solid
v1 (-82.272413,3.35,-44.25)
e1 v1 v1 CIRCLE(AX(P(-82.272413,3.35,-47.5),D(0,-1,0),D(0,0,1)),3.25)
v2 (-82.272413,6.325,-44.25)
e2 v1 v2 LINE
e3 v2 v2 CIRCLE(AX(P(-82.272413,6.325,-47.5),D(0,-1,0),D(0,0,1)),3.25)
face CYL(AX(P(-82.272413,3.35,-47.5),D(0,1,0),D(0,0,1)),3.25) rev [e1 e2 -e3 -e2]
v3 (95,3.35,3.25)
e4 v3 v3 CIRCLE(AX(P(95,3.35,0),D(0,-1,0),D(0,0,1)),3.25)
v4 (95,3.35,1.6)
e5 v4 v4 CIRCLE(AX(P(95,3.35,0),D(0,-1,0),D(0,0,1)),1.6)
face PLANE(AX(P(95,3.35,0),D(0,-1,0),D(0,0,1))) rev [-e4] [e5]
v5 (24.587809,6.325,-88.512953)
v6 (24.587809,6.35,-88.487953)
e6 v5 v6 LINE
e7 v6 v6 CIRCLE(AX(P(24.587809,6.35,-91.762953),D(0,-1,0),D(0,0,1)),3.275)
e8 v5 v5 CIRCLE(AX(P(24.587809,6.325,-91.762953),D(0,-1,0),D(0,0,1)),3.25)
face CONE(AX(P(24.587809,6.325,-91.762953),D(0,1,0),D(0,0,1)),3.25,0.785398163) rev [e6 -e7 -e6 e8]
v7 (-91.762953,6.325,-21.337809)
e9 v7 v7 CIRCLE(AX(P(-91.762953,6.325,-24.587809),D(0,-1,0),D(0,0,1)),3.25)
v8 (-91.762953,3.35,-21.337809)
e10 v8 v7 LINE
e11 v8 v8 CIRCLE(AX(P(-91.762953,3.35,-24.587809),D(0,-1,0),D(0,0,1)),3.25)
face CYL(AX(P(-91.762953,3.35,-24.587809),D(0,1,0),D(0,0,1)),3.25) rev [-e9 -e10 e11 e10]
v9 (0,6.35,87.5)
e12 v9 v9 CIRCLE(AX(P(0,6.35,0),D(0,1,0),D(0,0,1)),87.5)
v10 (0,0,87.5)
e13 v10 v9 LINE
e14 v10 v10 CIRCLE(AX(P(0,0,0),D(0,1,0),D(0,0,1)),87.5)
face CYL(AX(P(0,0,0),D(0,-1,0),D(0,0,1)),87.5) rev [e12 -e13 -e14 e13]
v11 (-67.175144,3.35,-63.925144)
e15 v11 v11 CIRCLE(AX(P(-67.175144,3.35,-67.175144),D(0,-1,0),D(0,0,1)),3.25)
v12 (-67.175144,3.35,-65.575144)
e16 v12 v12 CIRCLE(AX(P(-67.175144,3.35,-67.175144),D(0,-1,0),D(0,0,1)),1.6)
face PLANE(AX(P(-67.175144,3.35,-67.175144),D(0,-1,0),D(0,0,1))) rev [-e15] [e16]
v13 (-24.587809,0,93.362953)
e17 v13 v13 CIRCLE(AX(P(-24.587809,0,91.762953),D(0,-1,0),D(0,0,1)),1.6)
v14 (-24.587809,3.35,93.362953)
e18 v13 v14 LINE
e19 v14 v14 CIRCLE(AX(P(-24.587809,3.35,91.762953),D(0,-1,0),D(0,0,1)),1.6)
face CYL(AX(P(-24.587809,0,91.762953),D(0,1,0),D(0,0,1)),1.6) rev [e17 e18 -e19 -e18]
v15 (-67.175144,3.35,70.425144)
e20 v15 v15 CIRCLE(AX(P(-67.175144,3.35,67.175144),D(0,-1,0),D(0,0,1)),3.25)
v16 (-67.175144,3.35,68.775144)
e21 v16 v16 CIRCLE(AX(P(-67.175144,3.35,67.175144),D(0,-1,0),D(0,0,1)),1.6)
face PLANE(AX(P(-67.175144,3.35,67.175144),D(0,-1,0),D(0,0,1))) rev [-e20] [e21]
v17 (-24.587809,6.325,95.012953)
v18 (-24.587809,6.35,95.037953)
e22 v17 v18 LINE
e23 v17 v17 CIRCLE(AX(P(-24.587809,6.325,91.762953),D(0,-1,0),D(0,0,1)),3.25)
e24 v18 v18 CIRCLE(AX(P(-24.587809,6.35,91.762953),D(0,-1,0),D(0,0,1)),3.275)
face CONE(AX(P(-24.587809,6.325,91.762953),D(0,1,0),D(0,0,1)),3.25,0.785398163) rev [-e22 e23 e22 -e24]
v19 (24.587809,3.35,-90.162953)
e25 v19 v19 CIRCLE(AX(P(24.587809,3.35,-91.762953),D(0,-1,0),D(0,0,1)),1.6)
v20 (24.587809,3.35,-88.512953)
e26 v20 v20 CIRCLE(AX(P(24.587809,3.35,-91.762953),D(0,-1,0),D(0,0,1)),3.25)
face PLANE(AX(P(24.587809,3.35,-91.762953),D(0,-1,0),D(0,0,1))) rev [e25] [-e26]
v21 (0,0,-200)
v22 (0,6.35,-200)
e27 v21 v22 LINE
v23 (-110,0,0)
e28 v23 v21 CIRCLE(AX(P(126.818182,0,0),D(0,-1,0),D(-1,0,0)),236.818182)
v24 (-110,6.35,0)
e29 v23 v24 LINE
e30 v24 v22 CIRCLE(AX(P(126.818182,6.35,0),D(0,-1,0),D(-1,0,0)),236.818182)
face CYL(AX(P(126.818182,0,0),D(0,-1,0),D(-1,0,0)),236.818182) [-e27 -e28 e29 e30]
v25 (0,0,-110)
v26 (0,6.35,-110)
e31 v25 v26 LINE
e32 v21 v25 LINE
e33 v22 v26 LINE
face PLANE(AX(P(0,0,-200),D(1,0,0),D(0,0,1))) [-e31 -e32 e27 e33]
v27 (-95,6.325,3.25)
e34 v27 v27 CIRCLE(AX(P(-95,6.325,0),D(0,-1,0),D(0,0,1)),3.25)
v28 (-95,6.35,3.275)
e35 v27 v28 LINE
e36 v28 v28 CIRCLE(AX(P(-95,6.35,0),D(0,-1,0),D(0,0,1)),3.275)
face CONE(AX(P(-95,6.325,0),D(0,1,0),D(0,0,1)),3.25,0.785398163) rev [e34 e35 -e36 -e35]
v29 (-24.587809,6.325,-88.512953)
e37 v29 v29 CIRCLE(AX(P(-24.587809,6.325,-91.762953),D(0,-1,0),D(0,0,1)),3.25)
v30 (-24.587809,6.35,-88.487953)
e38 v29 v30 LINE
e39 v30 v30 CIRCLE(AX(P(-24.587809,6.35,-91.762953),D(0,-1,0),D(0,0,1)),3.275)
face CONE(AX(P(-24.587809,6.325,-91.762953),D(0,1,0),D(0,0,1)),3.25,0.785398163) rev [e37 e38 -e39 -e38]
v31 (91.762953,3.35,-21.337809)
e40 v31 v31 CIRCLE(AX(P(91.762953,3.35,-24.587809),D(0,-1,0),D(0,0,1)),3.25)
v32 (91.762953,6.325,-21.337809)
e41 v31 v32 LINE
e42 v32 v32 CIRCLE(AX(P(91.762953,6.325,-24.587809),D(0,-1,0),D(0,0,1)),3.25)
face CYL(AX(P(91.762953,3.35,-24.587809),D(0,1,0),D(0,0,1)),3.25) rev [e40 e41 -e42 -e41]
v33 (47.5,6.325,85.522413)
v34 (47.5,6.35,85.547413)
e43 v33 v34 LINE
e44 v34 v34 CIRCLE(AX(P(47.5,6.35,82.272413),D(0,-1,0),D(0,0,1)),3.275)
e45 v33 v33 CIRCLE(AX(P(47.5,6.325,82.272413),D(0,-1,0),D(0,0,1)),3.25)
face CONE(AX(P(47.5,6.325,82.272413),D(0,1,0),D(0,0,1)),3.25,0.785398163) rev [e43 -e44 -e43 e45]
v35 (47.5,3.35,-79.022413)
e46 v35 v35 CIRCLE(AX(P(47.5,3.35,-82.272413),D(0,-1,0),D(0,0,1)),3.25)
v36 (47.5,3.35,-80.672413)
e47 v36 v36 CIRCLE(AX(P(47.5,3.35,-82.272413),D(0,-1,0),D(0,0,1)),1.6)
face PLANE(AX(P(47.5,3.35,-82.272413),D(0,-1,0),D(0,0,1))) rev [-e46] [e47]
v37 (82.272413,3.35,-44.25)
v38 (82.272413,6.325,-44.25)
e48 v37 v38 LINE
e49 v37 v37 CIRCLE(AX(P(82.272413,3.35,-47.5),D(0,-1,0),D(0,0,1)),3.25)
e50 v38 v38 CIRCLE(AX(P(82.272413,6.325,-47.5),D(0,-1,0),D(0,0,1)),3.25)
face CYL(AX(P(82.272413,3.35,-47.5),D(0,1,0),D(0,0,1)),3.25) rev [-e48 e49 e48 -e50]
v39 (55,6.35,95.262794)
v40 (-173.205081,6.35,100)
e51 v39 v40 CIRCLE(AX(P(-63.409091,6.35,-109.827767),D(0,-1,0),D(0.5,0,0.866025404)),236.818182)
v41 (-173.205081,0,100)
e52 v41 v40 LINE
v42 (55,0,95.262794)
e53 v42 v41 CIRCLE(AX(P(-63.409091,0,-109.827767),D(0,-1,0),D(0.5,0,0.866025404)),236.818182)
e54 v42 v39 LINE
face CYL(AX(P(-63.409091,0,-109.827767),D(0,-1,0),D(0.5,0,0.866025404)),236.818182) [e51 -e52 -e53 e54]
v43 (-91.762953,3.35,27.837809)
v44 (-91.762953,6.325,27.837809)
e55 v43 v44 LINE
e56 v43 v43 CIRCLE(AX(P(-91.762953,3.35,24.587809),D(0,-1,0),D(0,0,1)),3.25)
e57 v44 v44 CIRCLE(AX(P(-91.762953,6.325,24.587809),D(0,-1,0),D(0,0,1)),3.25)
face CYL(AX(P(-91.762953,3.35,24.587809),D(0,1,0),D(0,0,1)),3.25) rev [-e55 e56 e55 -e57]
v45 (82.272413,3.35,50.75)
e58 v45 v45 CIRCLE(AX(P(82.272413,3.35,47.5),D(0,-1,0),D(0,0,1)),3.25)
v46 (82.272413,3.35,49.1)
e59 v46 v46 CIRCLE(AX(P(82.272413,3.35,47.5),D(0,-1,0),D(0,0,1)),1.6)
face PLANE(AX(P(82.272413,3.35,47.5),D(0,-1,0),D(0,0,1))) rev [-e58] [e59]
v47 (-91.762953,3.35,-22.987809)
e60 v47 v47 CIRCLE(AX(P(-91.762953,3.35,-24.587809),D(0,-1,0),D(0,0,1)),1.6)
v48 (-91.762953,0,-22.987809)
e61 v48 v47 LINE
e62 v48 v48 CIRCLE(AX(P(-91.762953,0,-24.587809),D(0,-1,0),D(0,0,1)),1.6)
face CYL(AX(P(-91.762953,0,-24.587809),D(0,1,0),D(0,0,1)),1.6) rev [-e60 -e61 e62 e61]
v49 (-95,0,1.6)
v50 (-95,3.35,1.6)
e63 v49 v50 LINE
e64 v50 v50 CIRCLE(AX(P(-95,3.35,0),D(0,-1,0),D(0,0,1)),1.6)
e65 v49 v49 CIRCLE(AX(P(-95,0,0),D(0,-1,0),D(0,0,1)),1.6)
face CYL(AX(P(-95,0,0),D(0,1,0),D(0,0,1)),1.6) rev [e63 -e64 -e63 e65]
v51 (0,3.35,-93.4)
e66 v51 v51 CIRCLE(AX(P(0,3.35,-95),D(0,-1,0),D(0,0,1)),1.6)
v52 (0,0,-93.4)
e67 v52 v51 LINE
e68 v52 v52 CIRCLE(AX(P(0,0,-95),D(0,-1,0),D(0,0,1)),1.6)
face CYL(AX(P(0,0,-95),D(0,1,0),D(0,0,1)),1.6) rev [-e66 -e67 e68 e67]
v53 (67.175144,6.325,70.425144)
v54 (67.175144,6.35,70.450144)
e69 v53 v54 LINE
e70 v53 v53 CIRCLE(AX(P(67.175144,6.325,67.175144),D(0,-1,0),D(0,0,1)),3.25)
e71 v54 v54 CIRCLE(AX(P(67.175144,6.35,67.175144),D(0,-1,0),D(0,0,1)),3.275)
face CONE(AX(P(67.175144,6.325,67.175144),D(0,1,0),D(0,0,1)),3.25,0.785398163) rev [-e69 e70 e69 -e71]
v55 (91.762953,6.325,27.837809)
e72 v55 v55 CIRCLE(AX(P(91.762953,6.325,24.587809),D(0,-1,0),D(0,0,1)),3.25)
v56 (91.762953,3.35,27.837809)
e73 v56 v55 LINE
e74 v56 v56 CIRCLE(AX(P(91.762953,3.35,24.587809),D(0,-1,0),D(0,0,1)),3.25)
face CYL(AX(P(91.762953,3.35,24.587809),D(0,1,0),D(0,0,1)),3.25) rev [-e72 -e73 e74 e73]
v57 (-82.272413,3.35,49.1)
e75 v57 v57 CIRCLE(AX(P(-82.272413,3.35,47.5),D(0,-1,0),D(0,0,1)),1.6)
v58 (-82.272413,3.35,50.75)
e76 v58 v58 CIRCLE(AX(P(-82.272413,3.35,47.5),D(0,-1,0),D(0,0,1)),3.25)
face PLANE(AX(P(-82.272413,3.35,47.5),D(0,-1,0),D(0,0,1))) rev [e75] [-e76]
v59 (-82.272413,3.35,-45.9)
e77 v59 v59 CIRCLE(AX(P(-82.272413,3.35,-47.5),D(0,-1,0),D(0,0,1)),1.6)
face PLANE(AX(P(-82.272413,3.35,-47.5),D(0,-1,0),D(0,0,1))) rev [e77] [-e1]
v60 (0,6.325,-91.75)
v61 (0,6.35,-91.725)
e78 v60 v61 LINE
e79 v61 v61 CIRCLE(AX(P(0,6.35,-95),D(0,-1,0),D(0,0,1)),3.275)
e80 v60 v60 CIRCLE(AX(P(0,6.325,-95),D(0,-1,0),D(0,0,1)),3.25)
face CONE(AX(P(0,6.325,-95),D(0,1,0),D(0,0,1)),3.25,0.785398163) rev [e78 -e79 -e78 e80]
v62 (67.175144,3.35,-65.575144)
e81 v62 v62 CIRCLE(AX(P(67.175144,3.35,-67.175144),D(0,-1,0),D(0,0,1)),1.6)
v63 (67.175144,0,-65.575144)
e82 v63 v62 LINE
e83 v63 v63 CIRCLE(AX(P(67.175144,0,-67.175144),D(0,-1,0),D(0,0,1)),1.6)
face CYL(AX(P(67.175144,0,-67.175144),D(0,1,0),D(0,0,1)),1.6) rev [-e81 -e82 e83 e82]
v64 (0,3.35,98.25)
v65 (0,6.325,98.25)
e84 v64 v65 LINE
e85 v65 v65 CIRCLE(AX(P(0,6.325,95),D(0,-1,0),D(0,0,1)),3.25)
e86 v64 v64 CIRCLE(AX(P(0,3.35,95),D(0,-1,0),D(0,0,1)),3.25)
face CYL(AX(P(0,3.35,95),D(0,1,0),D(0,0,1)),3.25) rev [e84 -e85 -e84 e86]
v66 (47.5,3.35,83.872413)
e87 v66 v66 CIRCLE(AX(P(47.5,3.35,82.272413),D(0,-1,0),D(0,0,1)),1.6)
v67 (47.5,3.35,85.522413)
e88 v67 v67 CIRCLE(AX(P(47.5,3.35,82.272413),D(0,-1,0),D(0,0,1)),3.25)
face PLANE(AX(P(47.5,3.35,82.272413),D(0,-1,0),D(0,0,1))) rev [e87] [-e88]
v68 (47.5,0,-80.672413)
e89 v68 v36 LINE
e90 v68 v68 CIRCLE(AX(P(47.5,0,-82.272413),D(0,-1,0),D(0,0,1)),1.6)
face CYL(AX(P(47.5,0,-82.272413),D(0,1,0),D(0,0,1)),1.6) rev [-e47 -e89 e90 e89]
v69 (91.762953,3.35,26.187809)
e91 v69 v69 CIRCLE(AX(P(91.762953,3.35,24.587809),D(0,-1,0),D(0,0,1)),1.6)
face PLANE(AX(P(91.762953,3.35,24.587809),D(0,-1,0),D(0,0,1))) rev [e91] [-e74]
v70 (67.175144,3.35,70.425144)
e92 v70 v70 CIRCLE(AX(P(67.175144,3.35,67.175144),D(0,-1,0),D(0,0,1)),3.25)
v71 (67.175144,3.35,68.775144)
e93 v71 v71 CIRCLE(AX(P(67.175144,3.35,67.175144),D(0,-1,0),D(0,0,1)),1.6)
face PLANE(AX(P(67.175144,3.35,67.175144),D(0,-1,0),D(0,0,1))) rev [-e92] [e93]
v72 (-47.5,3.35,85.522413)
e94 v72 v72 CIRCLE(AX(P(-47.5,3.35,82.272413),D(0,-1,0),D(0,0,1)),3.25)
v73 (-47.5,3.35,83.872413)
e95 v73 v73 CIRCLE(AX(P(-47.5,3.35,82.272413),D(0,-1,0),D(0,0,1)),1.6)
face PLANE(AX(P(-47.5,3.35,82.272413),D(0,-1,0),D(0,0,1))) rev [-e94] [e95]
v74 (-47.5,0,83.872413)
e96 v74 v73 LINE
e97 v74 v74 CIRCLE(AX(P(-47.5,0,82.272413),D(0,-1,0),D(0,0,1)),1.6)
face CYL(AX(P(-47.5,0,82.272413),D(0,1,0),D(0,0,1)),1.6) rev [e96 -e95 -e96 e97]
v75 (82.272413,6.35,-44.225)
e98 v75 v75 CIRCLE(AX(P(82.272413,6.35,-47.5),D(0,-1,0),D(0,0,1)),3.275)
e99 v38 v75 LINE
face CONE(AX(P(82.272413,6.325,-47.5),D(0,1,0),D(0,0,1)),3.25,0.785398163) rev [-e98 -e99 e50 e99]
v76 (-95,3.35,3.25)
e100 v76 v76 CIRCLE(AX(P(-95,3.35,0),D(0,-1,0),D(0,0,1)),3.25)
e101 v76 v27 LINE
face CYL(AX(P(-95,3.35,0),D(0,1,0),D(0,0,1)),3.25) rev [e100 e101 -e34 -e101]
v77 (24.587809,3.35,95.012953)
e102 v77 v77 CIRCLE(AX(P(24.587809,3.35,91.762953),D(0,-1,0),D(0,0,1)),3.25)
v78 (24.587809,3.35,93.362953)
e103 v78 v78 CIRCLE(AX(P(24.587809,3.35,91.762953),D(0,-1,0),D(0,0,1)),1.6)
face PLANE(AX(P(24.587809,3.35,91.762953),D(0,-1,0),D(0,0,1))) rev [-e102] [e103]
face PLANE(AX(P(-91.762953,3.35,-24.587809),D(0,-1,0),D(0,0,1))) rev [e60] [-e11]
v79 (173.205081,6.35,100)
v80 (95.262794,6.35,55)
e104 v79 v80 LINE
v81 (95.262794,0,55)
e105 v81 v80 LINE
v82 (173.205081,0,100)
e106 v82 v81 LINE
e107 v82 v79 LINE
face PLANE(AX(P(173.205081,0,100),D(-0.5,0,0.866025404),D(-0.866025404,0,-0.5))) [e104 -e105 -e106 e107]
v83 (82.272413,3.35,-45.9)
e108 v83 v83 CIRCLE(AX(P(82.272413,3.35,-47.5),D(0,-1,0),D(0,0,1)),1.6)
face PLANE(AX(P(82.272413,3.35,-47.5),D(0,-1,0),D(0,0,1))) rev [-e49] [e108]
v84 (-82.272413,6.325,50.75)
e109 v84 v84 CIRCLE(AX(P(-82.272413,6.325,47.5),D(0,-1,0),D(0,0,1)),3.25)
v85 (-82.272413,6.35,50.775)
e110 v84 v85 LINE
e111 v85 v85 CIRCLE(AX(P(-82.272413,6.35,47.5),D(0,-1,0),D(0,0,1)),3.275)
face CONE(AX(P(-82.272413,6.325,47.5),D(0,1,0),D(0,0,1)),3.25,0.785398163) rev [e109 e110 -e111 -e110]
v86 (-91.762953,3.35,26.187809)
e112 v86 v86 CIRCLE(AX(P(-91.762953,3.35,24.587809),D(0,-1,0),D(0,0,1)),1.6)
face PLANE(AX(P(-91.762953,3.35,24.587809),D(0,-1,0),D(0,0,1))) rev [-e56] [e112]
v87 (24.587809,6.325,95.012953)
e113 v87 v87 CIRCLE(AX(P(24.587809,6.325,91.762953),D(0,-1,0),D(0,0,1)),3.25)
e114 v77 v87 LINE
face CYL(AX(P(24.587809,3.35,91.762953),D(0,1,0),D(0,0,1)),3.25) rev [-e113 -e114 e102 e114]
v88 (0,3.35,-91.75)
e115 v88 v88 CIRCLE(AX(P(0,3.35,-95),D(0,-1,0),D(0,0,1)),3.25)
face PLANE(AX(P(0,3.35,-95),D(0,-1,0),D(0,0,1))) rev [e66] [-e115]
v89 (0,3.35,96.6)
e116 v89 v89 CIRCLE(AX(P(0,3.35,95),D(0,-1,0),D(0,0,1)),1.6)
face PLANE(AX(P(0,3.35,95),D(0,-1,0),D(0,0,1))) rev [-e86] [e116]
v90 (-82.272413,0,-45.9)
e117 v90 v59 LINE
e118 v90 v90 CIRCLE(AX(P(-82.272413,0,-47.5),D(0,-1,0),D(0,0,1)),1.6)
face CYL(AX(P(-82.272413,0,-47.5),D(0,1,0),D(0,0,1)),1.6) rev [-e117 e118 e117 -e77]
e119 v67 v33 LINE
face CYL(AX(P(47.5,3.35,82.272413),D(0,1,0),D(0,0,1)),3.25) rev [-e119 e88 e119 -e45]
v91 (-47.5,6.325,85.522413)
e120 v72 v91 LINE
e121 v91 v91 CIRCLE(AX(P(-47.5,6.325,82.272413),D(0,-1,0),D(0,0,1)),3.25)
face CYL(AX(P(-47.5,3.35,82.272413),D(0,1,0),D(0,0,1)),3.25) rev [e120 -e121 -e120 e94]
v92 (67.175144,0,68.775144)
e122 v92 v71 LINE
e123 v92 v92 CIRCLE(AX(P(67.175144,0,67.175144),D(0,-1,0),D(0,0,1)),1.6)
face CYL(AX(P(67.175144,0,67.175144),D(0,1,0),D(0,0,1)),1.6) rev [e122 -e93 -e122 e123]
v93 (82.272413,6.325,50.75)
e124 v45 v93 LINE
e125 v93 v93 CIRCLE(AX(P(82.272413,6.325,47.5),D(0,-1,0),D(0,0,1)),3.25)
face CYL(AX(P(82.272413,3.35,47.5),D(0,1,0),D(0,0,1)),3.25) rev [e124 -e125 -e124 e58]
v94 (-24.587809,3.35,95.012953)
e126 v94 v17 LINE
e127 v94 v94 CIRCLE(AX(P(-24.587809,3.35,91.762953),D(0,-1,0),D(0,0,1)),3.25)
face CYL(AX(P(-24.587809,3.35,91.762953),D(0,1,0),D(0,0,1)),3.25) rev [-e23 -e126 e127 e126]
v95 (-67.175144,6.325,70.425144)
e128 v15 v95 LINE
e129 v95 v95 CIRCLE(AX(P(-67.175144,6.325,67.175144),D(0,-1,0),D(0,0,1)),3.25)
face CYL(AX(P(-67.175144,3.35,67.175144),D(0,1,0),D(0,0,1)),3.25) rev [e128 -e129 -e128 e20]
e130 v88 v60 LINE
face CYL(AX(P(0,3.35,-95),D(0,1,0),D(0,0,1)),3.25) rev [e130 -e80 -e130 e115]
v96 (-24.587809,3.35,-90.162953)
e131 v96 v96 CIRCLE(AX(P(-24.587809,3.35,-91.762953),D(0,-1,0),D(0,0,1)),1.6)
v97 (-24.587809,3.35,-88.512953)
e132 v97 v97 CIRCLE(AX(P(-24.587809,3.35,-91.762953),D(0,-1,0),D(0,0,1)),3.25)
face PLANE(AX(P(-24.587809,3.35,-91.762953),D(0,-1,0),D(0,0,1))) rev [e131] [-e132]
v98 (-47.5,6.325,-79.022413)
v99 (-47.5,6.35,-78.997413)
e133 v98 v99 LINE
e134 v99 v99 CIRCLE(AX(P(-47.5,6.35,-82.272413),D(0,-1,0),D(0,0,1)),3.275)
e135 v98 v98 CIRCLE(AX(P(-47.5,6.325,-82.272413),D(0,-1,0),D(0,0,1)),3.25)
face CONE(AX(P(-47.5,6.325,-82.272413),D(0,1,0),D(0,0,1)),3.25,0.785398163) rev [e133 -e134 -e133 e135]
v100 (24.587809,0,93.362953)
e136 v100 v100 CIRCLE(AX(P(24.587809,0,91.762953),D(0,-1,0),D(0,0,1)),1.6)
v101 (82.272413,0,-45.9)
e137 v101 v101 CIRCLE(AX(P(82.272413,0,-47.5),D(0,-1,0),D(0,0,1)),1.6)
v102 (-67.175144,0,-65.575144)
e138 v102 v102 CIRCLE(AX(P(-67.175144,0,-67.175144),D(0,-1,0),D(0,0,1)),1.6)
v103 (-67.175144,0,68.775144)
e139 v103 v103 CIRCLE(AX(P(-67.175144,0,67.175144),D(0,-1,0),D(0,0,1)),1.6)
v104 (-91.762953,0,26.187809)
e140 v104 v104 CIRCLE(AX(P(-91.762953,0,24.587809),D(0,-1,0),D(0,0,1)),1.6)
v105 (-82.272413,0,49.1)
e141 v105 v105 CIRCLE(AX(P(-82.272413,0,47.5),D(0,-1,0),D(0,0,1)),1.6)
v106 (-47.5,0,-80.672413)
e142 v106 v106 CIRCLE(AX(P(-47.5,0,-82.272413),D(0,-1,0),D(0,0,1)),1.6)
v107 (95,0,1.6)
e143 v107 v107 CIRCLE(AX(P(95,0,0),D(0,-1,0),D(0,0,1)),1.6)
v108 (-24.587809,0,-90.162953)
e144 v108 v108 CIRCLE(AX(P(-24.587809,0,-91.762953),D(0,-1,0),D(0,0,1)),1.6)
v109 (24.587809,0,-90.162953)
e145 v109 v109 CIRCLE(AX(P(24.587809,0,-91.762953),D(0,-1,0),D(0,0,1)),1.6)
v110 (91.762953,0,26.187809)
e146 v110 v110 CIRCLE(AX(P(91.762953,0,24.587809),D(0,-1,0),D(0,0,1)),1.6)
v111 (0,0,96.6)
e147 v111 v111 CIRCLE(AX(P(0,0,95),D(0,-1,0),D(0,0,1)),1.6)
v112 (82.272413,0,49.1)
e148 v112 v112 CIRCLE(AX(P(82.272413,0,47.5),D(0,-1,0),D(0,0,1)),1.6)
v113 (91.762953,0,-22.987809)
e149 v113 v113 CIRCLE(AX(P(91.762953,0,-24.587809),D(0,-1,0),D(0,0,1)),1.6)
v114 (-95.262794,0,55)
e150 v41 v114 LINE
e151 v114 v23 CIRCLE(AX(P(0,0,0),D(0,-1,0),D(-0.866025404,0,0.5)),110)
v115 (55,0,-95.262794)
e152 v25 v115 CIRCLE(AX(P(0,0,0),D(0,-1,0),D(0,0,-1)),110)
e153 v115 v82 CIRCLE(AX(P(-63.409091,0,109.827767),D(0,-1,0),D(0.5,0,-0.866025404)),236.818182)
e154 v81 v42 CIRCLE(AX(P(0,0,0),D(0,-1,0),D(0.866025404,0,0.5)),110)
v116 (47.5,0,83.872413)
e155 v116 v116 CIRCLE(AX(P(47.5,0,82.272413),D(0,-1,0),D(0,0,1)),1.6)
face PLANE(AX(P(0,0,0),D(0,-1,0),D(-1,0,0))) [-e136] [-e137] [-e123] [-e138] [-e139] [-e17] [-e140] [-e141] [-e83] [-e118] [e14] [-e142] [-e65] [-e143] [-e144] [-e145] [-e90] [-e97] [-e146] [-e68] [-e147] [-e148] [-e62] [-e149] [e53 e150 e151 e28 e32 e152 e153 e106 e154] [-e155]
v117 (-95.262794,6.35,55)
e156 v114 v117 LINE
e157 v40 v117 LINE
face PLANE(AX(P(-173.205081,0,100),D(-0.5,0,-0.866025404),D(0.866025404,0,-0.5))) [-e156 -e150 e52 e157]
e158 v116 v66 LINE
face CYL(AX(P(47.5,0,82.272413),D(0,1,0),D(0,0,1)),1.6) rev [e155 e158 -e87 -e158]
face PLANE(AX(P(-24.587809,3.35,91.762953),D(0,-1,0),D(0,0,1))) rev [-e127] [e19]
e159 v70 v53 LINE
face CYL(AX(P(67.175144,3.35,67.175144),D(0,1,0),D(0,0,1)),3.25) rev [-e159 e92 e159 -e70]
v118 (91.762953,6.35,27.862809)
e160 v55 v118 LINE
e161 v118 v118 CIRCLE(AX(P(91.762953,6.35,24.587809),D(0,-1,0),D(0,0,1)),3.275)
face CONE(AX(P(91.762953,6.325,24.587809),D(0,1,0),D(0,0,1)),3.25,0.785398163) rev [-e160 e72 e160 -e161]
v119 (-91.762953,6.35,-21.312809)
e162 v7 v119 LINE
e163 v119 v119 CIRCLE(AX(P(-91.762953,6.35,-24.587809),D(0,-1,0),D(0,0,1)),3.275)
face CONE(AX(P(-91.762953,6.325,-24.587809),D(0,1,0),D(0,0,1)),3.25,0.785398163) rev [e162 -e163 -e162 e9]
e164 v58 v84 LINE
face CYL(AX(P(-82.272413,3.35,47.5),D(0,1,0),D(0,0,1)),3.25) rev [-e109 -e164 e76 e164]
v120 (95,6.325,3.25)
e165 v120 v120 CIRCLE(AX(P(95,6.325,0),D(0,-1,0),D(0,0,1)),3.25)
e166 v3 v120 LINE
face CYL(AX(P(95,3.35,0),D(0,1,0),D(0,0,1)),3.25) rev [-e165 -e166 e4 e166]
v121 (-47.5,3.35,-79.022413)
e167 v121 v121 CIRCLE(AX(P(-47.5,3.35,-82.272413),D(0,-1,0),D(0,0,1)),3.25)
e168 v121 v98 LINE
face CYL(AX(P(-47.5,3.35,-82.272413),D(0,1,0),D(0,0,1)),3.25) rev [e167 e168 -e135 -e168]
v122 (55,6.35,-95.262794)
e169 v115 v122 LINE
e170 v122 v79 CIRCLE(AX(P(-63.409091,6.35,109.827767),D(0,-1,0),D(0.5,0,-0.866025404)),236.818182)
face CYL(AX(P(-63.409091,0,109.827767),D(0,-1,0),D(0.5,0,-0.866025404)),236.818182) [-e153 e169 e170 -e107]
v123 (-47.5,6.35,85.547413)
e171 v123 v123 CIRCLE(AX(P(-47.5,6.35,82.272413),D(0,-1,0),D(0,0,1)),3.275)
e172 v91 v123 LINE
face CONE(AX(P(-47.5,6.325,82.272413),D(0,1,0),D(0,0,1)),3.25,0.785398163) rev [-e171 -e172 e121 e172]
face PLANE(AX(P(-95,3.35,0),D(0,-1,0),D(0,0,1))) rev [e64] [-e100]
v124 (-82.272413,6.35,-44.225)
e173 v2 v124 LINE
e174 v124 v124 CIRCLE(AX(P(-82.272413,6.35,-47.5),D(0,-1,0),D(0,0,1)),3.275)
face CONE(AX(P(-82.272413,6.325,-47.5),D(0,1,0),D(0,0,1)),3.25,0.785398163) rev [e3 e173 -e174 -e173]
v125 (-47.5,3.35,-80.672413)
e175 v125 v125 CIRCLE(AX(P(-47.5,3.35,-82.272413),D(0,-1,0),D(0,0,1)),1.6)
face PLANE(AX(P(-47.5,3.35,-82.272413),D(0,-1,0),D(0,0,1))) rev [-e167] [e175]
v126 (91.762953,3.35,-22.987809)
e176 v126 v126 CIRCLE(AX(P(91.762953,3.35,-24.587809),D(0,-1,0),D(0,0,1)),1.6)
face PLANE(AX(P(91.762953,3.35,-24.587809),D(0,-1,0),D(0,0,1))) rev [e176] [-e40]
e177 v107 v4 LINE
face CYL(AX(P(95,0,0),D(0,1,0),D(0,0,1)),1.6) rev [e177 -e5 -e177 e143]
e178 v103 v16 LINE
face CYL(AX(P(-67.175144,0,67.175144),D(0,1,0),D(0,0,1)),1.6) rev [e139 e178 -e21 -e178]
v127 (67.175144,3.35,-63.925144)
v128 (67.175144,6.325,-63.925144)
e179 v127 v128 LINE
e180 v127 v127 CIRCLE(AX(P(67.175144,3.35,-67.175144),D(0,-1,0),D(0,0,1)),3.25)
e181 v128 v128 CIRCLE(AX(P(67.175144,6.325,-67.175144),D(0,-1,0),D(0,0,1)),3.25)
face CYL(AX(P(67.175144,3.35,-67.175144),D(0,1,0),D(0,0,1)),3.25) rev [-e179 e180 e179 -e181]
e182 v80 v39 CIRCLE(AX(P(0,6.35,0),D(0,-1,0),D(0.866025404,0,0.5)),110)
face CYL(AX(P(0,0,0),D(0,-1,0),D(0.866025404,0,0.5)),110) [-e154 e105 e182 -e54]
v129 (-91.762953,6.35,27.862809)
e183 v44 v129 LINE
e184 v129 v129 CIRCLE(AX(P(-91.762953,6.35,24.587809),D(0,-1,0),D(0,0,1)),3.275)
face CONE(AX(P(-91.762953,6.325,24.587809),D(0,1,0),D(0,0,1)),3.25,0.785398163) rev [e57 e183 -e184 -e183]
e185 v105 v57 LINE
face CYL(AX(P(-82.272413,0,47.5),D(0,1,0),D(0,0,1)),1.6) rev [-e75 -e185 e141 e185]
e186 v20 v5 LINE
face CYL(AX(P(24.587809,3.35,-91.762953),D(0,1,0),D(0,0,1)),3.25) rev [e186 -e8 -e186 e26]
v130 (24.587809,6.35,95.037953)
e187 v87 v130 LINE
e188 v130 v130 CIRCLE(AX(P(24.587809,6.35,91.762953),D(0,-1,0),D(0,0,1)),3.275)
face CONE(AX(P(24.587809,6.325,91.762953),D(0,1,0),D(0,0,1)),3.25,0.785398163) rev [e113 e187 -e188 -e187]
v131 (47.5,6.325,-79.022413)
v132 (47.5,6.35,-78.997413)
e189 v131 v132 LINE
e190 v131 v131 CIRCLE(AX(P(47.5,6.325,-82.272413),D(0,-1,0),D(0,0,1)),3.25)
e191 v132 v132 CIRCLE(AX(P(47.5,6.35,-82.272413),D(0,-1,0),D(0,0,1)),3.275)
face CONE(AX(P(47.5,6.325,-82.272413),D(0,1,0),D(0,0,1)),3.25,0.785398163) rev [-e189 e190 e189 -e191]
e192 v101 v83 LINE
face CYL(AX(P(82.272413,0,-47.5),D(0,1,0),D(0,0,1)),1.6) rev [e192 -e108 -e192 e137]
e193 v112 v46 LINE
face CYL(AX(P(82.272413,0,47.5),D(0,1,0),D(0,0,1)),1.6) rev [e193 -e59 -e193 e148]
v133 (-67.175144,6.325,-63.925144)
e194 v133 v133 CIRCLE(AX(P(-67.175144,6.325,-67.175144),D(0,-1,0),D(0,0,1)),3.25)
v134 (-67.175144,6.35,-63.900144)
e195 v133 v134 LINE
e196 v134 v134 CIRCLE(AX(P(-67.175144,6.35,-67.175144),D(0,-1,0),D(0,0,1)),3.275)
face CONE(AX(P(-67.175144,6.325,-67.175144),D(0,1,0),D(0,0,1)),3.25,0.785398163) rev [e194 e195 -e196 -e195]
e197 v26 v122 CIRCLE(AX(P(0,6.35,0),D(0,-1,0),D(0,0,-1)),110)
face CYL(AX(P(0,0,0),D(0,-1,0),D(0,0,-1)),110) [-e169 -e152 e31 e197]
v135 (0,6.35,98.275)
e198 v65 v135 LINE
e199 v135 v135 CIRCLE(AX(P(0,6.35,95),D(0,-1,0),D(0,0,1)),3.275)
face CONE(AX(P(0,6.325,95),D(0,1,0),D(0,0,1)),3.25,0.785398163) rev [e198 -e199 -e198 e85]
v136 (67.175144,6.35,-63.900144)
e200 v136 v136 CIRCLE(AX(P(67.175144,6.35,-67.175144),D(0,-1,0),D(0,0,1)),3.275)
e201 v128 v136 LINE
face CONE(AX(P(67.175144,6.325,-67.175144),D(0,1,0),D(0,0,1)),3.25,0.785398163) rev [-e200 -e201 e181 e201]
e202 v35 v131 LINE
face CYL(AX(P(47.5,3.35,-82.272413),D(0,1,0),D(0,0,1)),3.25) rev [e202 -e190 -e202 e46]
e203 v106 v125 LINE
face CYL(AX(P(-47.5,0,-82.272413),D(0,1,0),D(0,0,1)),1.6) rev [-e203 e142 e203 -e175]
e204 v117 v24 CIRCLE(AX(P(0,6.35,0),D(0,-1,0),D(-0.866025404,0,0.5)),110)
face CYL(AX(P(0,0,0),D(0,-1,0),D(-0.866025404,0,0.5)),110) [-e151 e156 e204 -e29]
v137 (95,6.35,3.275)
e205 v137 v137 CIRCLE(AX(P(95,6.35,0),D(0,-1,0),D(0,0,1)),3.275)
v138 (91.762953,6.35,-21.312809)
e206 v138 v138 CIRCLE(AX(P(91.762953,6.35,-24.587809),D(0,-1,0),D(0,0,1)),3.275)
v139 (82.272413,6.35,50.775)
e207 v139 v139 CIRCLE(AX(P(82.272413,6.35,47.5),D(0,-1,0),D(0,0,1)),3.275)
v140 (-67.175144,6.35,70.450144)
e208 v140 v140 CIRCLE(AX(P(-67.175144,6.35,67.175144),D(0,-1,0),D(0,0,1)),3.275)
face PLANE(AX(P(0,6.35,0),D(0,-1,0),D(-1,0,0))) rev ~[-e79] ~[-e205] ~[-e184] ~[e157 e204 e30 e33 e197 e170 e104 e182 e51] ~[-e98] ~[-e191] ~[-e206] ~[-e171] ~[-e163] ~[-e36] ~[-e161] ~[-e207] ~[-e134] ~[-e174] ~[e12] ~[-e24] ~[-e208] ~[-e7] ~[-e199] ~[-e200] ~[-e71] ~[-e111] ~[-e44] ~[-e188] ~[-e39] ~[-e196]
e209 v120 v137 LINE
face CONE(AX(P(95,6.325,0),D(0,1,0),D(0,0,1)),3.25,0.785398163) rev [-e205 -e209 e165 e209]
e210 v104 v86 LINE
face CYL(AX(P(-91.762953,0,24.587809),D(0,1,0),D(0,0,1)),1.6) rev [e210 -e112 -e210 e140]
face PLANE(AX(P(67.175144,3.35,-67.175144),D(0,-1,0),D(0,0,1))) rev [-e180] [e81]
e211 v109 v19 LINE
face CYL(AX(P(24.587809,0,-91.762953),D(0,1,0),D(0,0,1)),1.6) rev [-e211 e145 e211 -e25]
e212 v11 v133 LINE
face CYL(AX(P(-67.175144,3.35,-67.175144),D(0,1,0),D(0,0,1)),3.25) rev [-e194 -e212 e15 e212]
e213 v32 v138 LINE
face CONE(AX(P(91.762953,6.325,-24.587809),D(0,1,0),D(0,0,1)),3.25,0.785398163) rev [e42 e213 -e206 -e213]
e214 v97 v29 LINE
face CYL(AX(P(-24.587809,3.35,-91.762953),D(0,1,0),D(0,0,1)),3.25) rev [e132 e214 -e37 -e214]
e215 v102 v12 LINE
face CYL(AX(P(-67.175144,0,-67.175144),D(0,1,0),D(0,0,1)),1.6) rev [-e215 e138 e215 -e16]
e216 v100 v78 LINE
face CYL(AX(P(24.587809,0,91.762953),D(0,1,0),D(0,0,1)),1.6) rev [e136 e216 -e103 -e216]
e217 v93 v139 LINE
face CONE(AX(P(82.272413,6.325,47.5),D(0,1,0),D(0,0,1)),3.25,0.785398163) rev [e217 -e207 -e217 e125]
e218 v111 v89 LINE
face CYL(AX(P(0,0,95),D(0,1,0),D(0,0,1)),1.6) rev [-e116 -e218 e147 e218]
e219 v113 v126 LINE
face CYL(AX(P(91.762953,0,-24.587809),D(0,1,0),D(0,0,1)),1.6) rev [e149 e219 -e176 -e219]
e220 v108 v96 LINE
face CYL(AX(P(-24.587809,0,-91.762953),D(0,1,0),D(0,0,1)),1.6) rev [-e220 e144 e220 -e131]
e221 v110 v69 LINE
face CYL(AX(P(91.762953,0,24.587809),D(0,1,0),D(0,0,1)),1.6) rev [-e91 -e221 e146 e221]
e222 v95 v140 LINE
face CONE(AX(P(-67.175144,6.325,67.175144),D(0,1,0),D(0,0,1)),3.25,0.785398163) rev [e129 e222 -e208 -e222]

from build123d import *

# Parameters (mm, degrees)
SKETCH1_R                      = 87.5
BOSS_EXTRUDE1_DEPTH            = 6.35
CBORE_FOR_M3_SHCS1_AT_2_COUNT  = 2
CBORE_FOR_M3_SHCS1_AT_2_PITCH  = 24.799976522
CBORE_FOR_M3_SHCS1_AT_3_COUNT  = 2
CBORE_FOR_M3_SHCS1_AT_3_PITCH  = 49.175618569
CBORE_FOR_M3_SHCS1_AT_4_COUNT  = 2
CBORE_FOR_M3_SHCS1_AT_4_PITCH  = 72.709852149
CBORE_FOR_M3_SHCS1_AT_5_COUNT  = 2
CBORE_FOR_M3_SHCS1_AT_5_PITCH  = 95
CBORE_FOR_M3_SHCS1_AT_6_COUNT  = 2
CBORE_FOR_M3_SHCS1_AT_6_PITCH  = 115.664671512
CBORE_FOR_M3_SHCS1_AT_7_COUNT  = 2
CBORE_FOR_M3_SHCS1_AT_7_PITCH  = 134.350288425
CBORE_FOR_M3_SHCS1_AT_8_COUNT  = 2
CBORE_FOR_M3_SHCS1_AT_8_PITCH  = 150.737134655
CBORE_FOR_M3_SHCS1_AT_9_COUNT  = 2
CBORE_FOR_M3_SHCS1_AT_9_PITCH  = 164.544826719
CBORE_FOR_M3_SHCS1_AT_10_COUNT = 2
CBORE_FOR_M3_SHCS1_AT_10_PITCH = 175.537111177
CBORE_FOR_M3_SHCS1_AT_11_COUNT = 2
CBORE_FOR_M3_SHCS1_AT_11_PITCH = 183.525906995
CBORE_FOR_M3_SHCS1_AT_12_COUNT = 2
CBORE_FOR_M3_SHCS1_AT_12_PITCH = 188.374523661
CBORE_FOR_M3_SHCS1_AT_13_COUNT = 2
CBORE_FOR_M3_SHCS1_AT_13_PITCH = 190
CBORE_FOR_M3_SHCS1_AT_14_COUNT = 2
CBORE_FOR_M3_SHCS1_AT_14_PITCH = 188.374523661
CBORE_FOR_M3_SHCS1_AT_15_COUNT = 2
CBORE_FOR_M3_SHCS1_AT_15_PITCH = 183.525906995
CBORE_FOR_M3_SHCS1_AT_16_COUNT = 2
CBORE_FOR_M3_SHCS1_AT_16_PITCH = 175.537111177
CBORE_FOR_M3_SHCS1_AT_17_COUNT = 2
CBORE_FOR_M3_SHCS1_AT_17_PITCH = 164.544826719
CBORE_FOR_M3_SHCS1_AT_18_COUNT = 2
CBORE_FOR_M3_SHCS1_AT_18_PITCH = 150.737134655
CBORE_FOR_M3_SHCS1_AT_19_COUNT = 2
CBORE_FOR_M3_SHCS1_AT_19_PITCH = 134.350288425
CBORE_FOR_M3_SHCS1_AT_20_COUNT = 2
CBORE_FOR_M3_SHCS1_AT_20_PITCH = 115.664671512
CBORE_FOR_M3_SHCS1_AT_21_COUNT = 2
CBORE_FOR_M3_SHCS1_AT_21_PITCH = 95
CBORE_FOR_M3_SHCS1_AT_22_COUNT = 2
CBORE_FOR_M3_SHCS1_AT_22_PITCH = 72.709852149
CBORE_FOR_M3_SHCS1_AT_23_COUNT = 2
CBORE_FOR_M3_SHCS1_AT_23_PITCH = 49.175618569
CBORE_FOR_M3_SHCS1_AT_24_COUNT = 2
CBORE_FOR_M3_SHCS1_AT_24_PITCH = 24.799976522
CBORE_FOR_M3_SHCS1_AT_25_COUNT = 2
CBORE_FOR_M3_SHCS1_AT_25_PITCH = 95


with BuildPart() as part:
    # Sketch1 → Boss-Extrude1 (new body)
    with BuildSketch(Plane(origin=(0, 0, 0), x_dir=(1, 0, 0), z_dir=(0, 1, 0))):
        with BuildLine():
            Line((0, 200), (0, 110))
            ThreePointArc((0, 110), (28.470094961, 106.251840892), (55, 95.262794416))
            ThreePointArc((55, 95.262794416), (139.179825281, 12.812284565), (173.205080757, -100))
            Line((173.205080757, -100), (95.262794416, -55))
            ThreePointArc((95.262794416, -55), (77.781745931, -77.781745931), (55, -95.262794416))
            ThreePointArc((55, -95.262794416), (-58.494148726, -126.939406671), (-173.205080757, -100))
            Line((-173.205080757, -100), (-95.262794416, -55))
            ThreePointArc((-95.262794416, -55), (-106.251840892, -28.470094961), (-110, 0))
            ThreePointArc((-110, 0), (-80.685676555, 114.127122105), (0, 200))
        make_face()
        with Locations(Location((0, 0, 0), (0, 0, 270))):
            Circle(SKETCH1_R, mode=Mode.SUBTRACT)
    extrude(amount=BOSS_EXTRUDE1_DEPTH)

    # Sketch3 → CBORE for M3 SHCS1 (revolve, cut)
    with BuildSketch(Plane(origin=(95, 6.35, 0), x_dir=(0, 0, 1), z_dir=(1, 0, 0))):
        Polygon((0, 0), (0, 6.35), (1.6, 6.35), (1.6, 3), (3.25, 3), (3.25, 0.025), (3.275, 0), align=None)
    cbore_for_m3_shcs1 = revolve(axis=Axis((95, 12.7, 0), (0, -1, 0)), mode=Mode.SUBTRACT)

    # CBORE for M3 SHCS1 at 2: CBORE for M3 SHCS1 ×2
    with Locations(*[Vector(-0.1305261922200521, 0, 0.9914448613738104) * (i * CBORE_FOR_M3_SHCS1_AT_2_PITCH) for i in range(1, CBORE_FOR_M3_SHCS1_AT_2_COUNT)]):
        add(cbore_for_m3_shcs1, mode=Mode.SUBTRACT)

    # CBORE for M3 SHCS1 at 3: CBORE for M3 SHCS1 ×2
    with Locations(*[Vector(-0.2588190451025218, 0, 0.965925826289068) * (i * CBORE_FOR_M3_SHCS1_AT_3_PITCH) for i in range(1, CBORE_FOR_M3_SHCS1_AT_3_COUNT)]):
        add(cbore_for_m3_shcs1, mode=Mode.SUBTRACT)

    # CBORE for M3 SHCS1 at 4: CBORE for M3 SHCS1 ×2
    with Locations(*[Vector(-0.38268343236509056, 0, 0.9238795325112865) * (i * CBORE_FOR_M3_SHCS1_AT_4_PITCH) for i in range(1, CBORE_FOR_M3_SHCS1_AT_4_COUNT)]):
        add(cbore_for_m3_shcs1, mode=Mode.SUBTRACT)

    # CBORE for M3 SHCS1 at 5: CBORE for M3 SHCS1 ×2
    with Locations(*[Vector(-0.5000000000000009, 0, 0.8660254037844382) * (i * CBORE_FOR_M3_SHCS1_AT_5_PITCH) for i in range(1, CBORE_FOR_M3_SHCS1_AT_5_COUNT)]):
        add(cbore_for_m3_shcs1, mode=Mode.SUBTRACT)

    # CBORE for M3 SHCS1 at 6: CBORE for M3 SHCS1 ×2
    with Locations(*[Vector(-0.6087614290087218, 0, 0.7933533402912344) * (i * CBORE_FOR_M3_SHCS1_AT_6_PITCH) for i in range(1, CBORE_FOR_M3_SHCS1_AT_6_COUNT)]):
        add(cbore_for_m3_shcs1, mode=Mode.SUBTRACT)

    # CBORE for M3 SHCS1 at 7: CBORE for M3 SHCS1 ×2
    with Locations(*[Vector(-0.7071067811865487, 0, 0.7071067811865464) * (i * CBORE_FOR_M3_SHCS1_AT_7_PITCH) for i in range(1, CBORE_FOR_M3_SHCS1_AT_7_COUNT)]):
        add(cbore_for_m3_shcs1, mode=Mode.SUBTRACT)

    # CBORE for M3 SHCS1 at 8: CBORE for M3 SHCS1 ×2
    with Locations(*[Vector(-0.7933533402912363, 0, 0.6087614290087191) * (i * CBORE_FOR_M3_SHCS1_AT_8_PITCH) for i in range(1, CBORE_FOR_M3_SHCS1_AT_8_COUNT)]):
        add(cbore_for_m3_shcs1, mode=Mode.SUBTRACT)

    # CBORE for M3 SHCS1 at 9: CBORE for M3 SHCS1 ×2
    with Locations(*[Vector(-0.8660254037844398, 0, 0.499999999999998) * (i * CBORE_FOR_M3_SHCS1_AT_9_PITCH) for i in range(1, CBORE_FOR_M3_SHCS1_AT_9_COUNT)]):
        add(cbore_for_m3_shcs1, mode=Mode.SUBTRACT)

    # CBORE for M3 SHCS1 at 10: CBORE for M3 SHCS1 ×2
    with Locations(*[Vector(-0.9238795325112878, 0, 0.3826834323650874) * (i * CBORE_FOR_M3_SHCS1_AT_10_PITCH) for i in range(1, CBORE_FOR_M3_SHCS1_AT_10_COUNT)]):
        add(cbore_for_m3_shcs1, mode=Mode.SUBTRACT)

    # CBORE for M3 SHCS1 at 11: CBORE for M3 SHCS1 ×2
    with Locations(*[Vector(-0.9659258262890691, 0, 0.25881904510251796) * (i * CBORE_FOR_M3_SHCS1_AT_11_PITCH) for i in range(1, CBORE_FOR_M3_SHCS1_AT_11_COUNT)]):
        add(cbore_for_m3_shcs1, mode=Mode.SUBTRACT)

    # CBORE for M3 SHCS1 at 12: CBORE for M3 SHCS1 ×2
    with Locations(*[Vector(-0.9914448613738108, 0, 0.13052619222004846) * (i * CBORE_FOR_M3_SHCS1_AT_12_PITCH) for i in range(1, CBORE_FOR_M3_SHCS1_AT_12_COUNT)]):
        add(cbore_for_m3_shcs1, mode=Mode.SUBTRACT)

    # CBORE for M3 SHCS1 at 13: CBORE for M3 SHCS1 ×2
    with Locations(*[(-i * CBORE_FOR_M3_SHCS1_AT_13_PITCH, 0, 0) for i in range(1, CBORE_FOR_M3_SHCS1_AT_13_COUNT)]):
        add(cbore_for_m3_shcs1, mode=Mode.SUBTRACT)

    # CBORE for M3 SHCS1 at 14: CBORE for M3 SHCS1 ×2
    with Locations(*[Vector(-0.9914448613738099, 0, -0.13052619222005532) * (i * CBORE_FOR_M3_SHCS1_AT_14_PITCH) for i in range(1, CBORE_FOR_M3_SHCS1_AT_14_COUNT)]):
        add(cbore_for_m3_shcs1, mode=Mode.SUBTRACT)

    # CBORE for M3 SHCS1 at 15: CBORE for M3 SHCS1 ×2
    with Locations(*[Vector(-0.9659258262890673, 0, -0.25881904510252474) * (i * CBORE_FOR_M3_SHCS1_AT_15_PITCH) for i in range(1, CBORE_FOR_M3_SHCS1_AT_15_COUNT)]):
        add(cbore_for_m3_shcs1, mode=Mode.SUBTRACT)

    # CBORE for M3 SHCS1 at 16: CBORE for M3 SHCS1 ×2
    with Locations(*[Vector(-0.9238795325112852, 0, -0.38268343236509383) * (i * CBORE_FOR_M3_SHCS1_AT_16_PITCH) for i in range(1, CBORE_FOR_M3_SHCS1_AT_16_COUNT)]):
        add(cbore_for_m3_shcs1, mode=Mode.SUBTRACT)

    # CBORE for M3 SHCS1 at 17: CBORE for M3 SHCS1 ×2
    with Locations(*[Vector(-0.8660254037844364, 0, -0.5000000000000039) * (i * CBORE_FOR_M3_SHCS1_AT_17_PITCH) for i in range(1, CBORE_FOR_M3_SHCS1_AT_17_COUNT)]):
        add(cbore_for_m3_shcs1, mode=Mode.SUBTRACT)

    # CBORE for M3 SHCS1 at 18: CBORE for M3 SHCS1 ×2
    with Locations(*[Vector(-0.7933533402912322, 0, -0.6087614290087247) * (i * CBORE_FOR_M3_SHCS1_AT_18_PITCH) for i in range(1, CBORE_FOR_M3_SHCS1_AT_18_COUNT)]):
        add(cbore_for_m3_shcs1, mode=Mode.SUBTRACT)

    # CBORE for M3 SHCS1 at 19: CBORE for M3 SHCS1 ×2
    with Locations(*[Vector(-0.7071067811865438, 0, -0.7071067811865513) * (i * CBORE_FOR_M3_SHCS1_AT_19_PITCH) for i in range(1, CBORE_FOR_M3_SHCS1_AT_19_COUNT)]):
        add(cbore_for_m3_shcs1, mode=Mode.SUBTRACT)

    # CBORE for M3 SHCS1 at 20: CBORE for M3 SHCS1 ×2
    with Locations(*[Vector(-0.6087614290087162, 0, -0.7933533402912386) * (i * CBORE_FOR_M3_SHCS1_AT_20_PITCH) for i in range(1, CBORE_FOR_M3_SHCS1_AT_20_COUNT)]):
        add(cbore_for_m3_shcs1, mode=Mode.SUBTRACT)

    # CBORE for M3 SHCS1 at 21: CBORE for M3 SHCS1 ×2
    with Locations(*[Vector(-0.4999999999999949, 0, -0.8660254037844416) * (i * CBORE_FOR_M3_SHCS1_AT_21_PITCH) for i in range(1, CBORE_FOR_M3_SHCS1_AT_21_COUNT)]):
        add(cbore_for_m3_shcs1, mode=Mode.SUBTRACT)

    # CBORE for M3 SHCS1 at 22: CBORE for M3 SHCS1 ×2
    with Locations(*[Vector(-0.3826834323650841, 0, -0.9238795325112891) * (i * CBORE_FOR_M3_SHCS1_AT_22_PITCH) for i in range(1, CBORE_FOR_M3_SHCS1_AT_22_COUNT)]):
        add(cbore_for_m3_shcs1, mode=Mode.SUBTRACT)

    # CBORE for M3 SHCS1 at 23: CBORE for M3 SHCS1 ×2
    with Locations(*[Vector(-0.25881904510251497, 0, -0.9659258262890699) * (i * CBORE_FOR_M3_SHCS1_AT_23_PITCH) for i in range(1, CBORE_FOR_M3_SHCS1_AT_23_COUNT)]):
        add(cbore_for_m3_shcs1, mode=Mode.SUBTRACT)

    # CBORE for M3 SHCS1 at 24: CBORE for M3 SHCS1 ×2
    with Locations(*[Vector(-0.1305261922200453, 0, -0.9914448613738113) * (i * CBORE_FOR_M3_SHCS1_AT_24_PITCH) for i in range(1, CBORE_FOR_M3_SHCS1_AT_24_COUNT)]):
        add(cbore_for_m3_shcs1, mode=Mode.SUBTRACT)

    # CBORE for M3 SHCS1 at 25: CBORE for M3 SHCS1 ×2
    with Locations(*[(-i * CBORE_FOR_M3_SHCS1_AT_25_PITCH, 0, 0) for i in range(1, CBORE_FOR_M3_SHCS1_AT_25_COUNT)]):
        add(cbore_for_m3_shcs1, mode=Mode.SUBTRACT)


solid = part.part
